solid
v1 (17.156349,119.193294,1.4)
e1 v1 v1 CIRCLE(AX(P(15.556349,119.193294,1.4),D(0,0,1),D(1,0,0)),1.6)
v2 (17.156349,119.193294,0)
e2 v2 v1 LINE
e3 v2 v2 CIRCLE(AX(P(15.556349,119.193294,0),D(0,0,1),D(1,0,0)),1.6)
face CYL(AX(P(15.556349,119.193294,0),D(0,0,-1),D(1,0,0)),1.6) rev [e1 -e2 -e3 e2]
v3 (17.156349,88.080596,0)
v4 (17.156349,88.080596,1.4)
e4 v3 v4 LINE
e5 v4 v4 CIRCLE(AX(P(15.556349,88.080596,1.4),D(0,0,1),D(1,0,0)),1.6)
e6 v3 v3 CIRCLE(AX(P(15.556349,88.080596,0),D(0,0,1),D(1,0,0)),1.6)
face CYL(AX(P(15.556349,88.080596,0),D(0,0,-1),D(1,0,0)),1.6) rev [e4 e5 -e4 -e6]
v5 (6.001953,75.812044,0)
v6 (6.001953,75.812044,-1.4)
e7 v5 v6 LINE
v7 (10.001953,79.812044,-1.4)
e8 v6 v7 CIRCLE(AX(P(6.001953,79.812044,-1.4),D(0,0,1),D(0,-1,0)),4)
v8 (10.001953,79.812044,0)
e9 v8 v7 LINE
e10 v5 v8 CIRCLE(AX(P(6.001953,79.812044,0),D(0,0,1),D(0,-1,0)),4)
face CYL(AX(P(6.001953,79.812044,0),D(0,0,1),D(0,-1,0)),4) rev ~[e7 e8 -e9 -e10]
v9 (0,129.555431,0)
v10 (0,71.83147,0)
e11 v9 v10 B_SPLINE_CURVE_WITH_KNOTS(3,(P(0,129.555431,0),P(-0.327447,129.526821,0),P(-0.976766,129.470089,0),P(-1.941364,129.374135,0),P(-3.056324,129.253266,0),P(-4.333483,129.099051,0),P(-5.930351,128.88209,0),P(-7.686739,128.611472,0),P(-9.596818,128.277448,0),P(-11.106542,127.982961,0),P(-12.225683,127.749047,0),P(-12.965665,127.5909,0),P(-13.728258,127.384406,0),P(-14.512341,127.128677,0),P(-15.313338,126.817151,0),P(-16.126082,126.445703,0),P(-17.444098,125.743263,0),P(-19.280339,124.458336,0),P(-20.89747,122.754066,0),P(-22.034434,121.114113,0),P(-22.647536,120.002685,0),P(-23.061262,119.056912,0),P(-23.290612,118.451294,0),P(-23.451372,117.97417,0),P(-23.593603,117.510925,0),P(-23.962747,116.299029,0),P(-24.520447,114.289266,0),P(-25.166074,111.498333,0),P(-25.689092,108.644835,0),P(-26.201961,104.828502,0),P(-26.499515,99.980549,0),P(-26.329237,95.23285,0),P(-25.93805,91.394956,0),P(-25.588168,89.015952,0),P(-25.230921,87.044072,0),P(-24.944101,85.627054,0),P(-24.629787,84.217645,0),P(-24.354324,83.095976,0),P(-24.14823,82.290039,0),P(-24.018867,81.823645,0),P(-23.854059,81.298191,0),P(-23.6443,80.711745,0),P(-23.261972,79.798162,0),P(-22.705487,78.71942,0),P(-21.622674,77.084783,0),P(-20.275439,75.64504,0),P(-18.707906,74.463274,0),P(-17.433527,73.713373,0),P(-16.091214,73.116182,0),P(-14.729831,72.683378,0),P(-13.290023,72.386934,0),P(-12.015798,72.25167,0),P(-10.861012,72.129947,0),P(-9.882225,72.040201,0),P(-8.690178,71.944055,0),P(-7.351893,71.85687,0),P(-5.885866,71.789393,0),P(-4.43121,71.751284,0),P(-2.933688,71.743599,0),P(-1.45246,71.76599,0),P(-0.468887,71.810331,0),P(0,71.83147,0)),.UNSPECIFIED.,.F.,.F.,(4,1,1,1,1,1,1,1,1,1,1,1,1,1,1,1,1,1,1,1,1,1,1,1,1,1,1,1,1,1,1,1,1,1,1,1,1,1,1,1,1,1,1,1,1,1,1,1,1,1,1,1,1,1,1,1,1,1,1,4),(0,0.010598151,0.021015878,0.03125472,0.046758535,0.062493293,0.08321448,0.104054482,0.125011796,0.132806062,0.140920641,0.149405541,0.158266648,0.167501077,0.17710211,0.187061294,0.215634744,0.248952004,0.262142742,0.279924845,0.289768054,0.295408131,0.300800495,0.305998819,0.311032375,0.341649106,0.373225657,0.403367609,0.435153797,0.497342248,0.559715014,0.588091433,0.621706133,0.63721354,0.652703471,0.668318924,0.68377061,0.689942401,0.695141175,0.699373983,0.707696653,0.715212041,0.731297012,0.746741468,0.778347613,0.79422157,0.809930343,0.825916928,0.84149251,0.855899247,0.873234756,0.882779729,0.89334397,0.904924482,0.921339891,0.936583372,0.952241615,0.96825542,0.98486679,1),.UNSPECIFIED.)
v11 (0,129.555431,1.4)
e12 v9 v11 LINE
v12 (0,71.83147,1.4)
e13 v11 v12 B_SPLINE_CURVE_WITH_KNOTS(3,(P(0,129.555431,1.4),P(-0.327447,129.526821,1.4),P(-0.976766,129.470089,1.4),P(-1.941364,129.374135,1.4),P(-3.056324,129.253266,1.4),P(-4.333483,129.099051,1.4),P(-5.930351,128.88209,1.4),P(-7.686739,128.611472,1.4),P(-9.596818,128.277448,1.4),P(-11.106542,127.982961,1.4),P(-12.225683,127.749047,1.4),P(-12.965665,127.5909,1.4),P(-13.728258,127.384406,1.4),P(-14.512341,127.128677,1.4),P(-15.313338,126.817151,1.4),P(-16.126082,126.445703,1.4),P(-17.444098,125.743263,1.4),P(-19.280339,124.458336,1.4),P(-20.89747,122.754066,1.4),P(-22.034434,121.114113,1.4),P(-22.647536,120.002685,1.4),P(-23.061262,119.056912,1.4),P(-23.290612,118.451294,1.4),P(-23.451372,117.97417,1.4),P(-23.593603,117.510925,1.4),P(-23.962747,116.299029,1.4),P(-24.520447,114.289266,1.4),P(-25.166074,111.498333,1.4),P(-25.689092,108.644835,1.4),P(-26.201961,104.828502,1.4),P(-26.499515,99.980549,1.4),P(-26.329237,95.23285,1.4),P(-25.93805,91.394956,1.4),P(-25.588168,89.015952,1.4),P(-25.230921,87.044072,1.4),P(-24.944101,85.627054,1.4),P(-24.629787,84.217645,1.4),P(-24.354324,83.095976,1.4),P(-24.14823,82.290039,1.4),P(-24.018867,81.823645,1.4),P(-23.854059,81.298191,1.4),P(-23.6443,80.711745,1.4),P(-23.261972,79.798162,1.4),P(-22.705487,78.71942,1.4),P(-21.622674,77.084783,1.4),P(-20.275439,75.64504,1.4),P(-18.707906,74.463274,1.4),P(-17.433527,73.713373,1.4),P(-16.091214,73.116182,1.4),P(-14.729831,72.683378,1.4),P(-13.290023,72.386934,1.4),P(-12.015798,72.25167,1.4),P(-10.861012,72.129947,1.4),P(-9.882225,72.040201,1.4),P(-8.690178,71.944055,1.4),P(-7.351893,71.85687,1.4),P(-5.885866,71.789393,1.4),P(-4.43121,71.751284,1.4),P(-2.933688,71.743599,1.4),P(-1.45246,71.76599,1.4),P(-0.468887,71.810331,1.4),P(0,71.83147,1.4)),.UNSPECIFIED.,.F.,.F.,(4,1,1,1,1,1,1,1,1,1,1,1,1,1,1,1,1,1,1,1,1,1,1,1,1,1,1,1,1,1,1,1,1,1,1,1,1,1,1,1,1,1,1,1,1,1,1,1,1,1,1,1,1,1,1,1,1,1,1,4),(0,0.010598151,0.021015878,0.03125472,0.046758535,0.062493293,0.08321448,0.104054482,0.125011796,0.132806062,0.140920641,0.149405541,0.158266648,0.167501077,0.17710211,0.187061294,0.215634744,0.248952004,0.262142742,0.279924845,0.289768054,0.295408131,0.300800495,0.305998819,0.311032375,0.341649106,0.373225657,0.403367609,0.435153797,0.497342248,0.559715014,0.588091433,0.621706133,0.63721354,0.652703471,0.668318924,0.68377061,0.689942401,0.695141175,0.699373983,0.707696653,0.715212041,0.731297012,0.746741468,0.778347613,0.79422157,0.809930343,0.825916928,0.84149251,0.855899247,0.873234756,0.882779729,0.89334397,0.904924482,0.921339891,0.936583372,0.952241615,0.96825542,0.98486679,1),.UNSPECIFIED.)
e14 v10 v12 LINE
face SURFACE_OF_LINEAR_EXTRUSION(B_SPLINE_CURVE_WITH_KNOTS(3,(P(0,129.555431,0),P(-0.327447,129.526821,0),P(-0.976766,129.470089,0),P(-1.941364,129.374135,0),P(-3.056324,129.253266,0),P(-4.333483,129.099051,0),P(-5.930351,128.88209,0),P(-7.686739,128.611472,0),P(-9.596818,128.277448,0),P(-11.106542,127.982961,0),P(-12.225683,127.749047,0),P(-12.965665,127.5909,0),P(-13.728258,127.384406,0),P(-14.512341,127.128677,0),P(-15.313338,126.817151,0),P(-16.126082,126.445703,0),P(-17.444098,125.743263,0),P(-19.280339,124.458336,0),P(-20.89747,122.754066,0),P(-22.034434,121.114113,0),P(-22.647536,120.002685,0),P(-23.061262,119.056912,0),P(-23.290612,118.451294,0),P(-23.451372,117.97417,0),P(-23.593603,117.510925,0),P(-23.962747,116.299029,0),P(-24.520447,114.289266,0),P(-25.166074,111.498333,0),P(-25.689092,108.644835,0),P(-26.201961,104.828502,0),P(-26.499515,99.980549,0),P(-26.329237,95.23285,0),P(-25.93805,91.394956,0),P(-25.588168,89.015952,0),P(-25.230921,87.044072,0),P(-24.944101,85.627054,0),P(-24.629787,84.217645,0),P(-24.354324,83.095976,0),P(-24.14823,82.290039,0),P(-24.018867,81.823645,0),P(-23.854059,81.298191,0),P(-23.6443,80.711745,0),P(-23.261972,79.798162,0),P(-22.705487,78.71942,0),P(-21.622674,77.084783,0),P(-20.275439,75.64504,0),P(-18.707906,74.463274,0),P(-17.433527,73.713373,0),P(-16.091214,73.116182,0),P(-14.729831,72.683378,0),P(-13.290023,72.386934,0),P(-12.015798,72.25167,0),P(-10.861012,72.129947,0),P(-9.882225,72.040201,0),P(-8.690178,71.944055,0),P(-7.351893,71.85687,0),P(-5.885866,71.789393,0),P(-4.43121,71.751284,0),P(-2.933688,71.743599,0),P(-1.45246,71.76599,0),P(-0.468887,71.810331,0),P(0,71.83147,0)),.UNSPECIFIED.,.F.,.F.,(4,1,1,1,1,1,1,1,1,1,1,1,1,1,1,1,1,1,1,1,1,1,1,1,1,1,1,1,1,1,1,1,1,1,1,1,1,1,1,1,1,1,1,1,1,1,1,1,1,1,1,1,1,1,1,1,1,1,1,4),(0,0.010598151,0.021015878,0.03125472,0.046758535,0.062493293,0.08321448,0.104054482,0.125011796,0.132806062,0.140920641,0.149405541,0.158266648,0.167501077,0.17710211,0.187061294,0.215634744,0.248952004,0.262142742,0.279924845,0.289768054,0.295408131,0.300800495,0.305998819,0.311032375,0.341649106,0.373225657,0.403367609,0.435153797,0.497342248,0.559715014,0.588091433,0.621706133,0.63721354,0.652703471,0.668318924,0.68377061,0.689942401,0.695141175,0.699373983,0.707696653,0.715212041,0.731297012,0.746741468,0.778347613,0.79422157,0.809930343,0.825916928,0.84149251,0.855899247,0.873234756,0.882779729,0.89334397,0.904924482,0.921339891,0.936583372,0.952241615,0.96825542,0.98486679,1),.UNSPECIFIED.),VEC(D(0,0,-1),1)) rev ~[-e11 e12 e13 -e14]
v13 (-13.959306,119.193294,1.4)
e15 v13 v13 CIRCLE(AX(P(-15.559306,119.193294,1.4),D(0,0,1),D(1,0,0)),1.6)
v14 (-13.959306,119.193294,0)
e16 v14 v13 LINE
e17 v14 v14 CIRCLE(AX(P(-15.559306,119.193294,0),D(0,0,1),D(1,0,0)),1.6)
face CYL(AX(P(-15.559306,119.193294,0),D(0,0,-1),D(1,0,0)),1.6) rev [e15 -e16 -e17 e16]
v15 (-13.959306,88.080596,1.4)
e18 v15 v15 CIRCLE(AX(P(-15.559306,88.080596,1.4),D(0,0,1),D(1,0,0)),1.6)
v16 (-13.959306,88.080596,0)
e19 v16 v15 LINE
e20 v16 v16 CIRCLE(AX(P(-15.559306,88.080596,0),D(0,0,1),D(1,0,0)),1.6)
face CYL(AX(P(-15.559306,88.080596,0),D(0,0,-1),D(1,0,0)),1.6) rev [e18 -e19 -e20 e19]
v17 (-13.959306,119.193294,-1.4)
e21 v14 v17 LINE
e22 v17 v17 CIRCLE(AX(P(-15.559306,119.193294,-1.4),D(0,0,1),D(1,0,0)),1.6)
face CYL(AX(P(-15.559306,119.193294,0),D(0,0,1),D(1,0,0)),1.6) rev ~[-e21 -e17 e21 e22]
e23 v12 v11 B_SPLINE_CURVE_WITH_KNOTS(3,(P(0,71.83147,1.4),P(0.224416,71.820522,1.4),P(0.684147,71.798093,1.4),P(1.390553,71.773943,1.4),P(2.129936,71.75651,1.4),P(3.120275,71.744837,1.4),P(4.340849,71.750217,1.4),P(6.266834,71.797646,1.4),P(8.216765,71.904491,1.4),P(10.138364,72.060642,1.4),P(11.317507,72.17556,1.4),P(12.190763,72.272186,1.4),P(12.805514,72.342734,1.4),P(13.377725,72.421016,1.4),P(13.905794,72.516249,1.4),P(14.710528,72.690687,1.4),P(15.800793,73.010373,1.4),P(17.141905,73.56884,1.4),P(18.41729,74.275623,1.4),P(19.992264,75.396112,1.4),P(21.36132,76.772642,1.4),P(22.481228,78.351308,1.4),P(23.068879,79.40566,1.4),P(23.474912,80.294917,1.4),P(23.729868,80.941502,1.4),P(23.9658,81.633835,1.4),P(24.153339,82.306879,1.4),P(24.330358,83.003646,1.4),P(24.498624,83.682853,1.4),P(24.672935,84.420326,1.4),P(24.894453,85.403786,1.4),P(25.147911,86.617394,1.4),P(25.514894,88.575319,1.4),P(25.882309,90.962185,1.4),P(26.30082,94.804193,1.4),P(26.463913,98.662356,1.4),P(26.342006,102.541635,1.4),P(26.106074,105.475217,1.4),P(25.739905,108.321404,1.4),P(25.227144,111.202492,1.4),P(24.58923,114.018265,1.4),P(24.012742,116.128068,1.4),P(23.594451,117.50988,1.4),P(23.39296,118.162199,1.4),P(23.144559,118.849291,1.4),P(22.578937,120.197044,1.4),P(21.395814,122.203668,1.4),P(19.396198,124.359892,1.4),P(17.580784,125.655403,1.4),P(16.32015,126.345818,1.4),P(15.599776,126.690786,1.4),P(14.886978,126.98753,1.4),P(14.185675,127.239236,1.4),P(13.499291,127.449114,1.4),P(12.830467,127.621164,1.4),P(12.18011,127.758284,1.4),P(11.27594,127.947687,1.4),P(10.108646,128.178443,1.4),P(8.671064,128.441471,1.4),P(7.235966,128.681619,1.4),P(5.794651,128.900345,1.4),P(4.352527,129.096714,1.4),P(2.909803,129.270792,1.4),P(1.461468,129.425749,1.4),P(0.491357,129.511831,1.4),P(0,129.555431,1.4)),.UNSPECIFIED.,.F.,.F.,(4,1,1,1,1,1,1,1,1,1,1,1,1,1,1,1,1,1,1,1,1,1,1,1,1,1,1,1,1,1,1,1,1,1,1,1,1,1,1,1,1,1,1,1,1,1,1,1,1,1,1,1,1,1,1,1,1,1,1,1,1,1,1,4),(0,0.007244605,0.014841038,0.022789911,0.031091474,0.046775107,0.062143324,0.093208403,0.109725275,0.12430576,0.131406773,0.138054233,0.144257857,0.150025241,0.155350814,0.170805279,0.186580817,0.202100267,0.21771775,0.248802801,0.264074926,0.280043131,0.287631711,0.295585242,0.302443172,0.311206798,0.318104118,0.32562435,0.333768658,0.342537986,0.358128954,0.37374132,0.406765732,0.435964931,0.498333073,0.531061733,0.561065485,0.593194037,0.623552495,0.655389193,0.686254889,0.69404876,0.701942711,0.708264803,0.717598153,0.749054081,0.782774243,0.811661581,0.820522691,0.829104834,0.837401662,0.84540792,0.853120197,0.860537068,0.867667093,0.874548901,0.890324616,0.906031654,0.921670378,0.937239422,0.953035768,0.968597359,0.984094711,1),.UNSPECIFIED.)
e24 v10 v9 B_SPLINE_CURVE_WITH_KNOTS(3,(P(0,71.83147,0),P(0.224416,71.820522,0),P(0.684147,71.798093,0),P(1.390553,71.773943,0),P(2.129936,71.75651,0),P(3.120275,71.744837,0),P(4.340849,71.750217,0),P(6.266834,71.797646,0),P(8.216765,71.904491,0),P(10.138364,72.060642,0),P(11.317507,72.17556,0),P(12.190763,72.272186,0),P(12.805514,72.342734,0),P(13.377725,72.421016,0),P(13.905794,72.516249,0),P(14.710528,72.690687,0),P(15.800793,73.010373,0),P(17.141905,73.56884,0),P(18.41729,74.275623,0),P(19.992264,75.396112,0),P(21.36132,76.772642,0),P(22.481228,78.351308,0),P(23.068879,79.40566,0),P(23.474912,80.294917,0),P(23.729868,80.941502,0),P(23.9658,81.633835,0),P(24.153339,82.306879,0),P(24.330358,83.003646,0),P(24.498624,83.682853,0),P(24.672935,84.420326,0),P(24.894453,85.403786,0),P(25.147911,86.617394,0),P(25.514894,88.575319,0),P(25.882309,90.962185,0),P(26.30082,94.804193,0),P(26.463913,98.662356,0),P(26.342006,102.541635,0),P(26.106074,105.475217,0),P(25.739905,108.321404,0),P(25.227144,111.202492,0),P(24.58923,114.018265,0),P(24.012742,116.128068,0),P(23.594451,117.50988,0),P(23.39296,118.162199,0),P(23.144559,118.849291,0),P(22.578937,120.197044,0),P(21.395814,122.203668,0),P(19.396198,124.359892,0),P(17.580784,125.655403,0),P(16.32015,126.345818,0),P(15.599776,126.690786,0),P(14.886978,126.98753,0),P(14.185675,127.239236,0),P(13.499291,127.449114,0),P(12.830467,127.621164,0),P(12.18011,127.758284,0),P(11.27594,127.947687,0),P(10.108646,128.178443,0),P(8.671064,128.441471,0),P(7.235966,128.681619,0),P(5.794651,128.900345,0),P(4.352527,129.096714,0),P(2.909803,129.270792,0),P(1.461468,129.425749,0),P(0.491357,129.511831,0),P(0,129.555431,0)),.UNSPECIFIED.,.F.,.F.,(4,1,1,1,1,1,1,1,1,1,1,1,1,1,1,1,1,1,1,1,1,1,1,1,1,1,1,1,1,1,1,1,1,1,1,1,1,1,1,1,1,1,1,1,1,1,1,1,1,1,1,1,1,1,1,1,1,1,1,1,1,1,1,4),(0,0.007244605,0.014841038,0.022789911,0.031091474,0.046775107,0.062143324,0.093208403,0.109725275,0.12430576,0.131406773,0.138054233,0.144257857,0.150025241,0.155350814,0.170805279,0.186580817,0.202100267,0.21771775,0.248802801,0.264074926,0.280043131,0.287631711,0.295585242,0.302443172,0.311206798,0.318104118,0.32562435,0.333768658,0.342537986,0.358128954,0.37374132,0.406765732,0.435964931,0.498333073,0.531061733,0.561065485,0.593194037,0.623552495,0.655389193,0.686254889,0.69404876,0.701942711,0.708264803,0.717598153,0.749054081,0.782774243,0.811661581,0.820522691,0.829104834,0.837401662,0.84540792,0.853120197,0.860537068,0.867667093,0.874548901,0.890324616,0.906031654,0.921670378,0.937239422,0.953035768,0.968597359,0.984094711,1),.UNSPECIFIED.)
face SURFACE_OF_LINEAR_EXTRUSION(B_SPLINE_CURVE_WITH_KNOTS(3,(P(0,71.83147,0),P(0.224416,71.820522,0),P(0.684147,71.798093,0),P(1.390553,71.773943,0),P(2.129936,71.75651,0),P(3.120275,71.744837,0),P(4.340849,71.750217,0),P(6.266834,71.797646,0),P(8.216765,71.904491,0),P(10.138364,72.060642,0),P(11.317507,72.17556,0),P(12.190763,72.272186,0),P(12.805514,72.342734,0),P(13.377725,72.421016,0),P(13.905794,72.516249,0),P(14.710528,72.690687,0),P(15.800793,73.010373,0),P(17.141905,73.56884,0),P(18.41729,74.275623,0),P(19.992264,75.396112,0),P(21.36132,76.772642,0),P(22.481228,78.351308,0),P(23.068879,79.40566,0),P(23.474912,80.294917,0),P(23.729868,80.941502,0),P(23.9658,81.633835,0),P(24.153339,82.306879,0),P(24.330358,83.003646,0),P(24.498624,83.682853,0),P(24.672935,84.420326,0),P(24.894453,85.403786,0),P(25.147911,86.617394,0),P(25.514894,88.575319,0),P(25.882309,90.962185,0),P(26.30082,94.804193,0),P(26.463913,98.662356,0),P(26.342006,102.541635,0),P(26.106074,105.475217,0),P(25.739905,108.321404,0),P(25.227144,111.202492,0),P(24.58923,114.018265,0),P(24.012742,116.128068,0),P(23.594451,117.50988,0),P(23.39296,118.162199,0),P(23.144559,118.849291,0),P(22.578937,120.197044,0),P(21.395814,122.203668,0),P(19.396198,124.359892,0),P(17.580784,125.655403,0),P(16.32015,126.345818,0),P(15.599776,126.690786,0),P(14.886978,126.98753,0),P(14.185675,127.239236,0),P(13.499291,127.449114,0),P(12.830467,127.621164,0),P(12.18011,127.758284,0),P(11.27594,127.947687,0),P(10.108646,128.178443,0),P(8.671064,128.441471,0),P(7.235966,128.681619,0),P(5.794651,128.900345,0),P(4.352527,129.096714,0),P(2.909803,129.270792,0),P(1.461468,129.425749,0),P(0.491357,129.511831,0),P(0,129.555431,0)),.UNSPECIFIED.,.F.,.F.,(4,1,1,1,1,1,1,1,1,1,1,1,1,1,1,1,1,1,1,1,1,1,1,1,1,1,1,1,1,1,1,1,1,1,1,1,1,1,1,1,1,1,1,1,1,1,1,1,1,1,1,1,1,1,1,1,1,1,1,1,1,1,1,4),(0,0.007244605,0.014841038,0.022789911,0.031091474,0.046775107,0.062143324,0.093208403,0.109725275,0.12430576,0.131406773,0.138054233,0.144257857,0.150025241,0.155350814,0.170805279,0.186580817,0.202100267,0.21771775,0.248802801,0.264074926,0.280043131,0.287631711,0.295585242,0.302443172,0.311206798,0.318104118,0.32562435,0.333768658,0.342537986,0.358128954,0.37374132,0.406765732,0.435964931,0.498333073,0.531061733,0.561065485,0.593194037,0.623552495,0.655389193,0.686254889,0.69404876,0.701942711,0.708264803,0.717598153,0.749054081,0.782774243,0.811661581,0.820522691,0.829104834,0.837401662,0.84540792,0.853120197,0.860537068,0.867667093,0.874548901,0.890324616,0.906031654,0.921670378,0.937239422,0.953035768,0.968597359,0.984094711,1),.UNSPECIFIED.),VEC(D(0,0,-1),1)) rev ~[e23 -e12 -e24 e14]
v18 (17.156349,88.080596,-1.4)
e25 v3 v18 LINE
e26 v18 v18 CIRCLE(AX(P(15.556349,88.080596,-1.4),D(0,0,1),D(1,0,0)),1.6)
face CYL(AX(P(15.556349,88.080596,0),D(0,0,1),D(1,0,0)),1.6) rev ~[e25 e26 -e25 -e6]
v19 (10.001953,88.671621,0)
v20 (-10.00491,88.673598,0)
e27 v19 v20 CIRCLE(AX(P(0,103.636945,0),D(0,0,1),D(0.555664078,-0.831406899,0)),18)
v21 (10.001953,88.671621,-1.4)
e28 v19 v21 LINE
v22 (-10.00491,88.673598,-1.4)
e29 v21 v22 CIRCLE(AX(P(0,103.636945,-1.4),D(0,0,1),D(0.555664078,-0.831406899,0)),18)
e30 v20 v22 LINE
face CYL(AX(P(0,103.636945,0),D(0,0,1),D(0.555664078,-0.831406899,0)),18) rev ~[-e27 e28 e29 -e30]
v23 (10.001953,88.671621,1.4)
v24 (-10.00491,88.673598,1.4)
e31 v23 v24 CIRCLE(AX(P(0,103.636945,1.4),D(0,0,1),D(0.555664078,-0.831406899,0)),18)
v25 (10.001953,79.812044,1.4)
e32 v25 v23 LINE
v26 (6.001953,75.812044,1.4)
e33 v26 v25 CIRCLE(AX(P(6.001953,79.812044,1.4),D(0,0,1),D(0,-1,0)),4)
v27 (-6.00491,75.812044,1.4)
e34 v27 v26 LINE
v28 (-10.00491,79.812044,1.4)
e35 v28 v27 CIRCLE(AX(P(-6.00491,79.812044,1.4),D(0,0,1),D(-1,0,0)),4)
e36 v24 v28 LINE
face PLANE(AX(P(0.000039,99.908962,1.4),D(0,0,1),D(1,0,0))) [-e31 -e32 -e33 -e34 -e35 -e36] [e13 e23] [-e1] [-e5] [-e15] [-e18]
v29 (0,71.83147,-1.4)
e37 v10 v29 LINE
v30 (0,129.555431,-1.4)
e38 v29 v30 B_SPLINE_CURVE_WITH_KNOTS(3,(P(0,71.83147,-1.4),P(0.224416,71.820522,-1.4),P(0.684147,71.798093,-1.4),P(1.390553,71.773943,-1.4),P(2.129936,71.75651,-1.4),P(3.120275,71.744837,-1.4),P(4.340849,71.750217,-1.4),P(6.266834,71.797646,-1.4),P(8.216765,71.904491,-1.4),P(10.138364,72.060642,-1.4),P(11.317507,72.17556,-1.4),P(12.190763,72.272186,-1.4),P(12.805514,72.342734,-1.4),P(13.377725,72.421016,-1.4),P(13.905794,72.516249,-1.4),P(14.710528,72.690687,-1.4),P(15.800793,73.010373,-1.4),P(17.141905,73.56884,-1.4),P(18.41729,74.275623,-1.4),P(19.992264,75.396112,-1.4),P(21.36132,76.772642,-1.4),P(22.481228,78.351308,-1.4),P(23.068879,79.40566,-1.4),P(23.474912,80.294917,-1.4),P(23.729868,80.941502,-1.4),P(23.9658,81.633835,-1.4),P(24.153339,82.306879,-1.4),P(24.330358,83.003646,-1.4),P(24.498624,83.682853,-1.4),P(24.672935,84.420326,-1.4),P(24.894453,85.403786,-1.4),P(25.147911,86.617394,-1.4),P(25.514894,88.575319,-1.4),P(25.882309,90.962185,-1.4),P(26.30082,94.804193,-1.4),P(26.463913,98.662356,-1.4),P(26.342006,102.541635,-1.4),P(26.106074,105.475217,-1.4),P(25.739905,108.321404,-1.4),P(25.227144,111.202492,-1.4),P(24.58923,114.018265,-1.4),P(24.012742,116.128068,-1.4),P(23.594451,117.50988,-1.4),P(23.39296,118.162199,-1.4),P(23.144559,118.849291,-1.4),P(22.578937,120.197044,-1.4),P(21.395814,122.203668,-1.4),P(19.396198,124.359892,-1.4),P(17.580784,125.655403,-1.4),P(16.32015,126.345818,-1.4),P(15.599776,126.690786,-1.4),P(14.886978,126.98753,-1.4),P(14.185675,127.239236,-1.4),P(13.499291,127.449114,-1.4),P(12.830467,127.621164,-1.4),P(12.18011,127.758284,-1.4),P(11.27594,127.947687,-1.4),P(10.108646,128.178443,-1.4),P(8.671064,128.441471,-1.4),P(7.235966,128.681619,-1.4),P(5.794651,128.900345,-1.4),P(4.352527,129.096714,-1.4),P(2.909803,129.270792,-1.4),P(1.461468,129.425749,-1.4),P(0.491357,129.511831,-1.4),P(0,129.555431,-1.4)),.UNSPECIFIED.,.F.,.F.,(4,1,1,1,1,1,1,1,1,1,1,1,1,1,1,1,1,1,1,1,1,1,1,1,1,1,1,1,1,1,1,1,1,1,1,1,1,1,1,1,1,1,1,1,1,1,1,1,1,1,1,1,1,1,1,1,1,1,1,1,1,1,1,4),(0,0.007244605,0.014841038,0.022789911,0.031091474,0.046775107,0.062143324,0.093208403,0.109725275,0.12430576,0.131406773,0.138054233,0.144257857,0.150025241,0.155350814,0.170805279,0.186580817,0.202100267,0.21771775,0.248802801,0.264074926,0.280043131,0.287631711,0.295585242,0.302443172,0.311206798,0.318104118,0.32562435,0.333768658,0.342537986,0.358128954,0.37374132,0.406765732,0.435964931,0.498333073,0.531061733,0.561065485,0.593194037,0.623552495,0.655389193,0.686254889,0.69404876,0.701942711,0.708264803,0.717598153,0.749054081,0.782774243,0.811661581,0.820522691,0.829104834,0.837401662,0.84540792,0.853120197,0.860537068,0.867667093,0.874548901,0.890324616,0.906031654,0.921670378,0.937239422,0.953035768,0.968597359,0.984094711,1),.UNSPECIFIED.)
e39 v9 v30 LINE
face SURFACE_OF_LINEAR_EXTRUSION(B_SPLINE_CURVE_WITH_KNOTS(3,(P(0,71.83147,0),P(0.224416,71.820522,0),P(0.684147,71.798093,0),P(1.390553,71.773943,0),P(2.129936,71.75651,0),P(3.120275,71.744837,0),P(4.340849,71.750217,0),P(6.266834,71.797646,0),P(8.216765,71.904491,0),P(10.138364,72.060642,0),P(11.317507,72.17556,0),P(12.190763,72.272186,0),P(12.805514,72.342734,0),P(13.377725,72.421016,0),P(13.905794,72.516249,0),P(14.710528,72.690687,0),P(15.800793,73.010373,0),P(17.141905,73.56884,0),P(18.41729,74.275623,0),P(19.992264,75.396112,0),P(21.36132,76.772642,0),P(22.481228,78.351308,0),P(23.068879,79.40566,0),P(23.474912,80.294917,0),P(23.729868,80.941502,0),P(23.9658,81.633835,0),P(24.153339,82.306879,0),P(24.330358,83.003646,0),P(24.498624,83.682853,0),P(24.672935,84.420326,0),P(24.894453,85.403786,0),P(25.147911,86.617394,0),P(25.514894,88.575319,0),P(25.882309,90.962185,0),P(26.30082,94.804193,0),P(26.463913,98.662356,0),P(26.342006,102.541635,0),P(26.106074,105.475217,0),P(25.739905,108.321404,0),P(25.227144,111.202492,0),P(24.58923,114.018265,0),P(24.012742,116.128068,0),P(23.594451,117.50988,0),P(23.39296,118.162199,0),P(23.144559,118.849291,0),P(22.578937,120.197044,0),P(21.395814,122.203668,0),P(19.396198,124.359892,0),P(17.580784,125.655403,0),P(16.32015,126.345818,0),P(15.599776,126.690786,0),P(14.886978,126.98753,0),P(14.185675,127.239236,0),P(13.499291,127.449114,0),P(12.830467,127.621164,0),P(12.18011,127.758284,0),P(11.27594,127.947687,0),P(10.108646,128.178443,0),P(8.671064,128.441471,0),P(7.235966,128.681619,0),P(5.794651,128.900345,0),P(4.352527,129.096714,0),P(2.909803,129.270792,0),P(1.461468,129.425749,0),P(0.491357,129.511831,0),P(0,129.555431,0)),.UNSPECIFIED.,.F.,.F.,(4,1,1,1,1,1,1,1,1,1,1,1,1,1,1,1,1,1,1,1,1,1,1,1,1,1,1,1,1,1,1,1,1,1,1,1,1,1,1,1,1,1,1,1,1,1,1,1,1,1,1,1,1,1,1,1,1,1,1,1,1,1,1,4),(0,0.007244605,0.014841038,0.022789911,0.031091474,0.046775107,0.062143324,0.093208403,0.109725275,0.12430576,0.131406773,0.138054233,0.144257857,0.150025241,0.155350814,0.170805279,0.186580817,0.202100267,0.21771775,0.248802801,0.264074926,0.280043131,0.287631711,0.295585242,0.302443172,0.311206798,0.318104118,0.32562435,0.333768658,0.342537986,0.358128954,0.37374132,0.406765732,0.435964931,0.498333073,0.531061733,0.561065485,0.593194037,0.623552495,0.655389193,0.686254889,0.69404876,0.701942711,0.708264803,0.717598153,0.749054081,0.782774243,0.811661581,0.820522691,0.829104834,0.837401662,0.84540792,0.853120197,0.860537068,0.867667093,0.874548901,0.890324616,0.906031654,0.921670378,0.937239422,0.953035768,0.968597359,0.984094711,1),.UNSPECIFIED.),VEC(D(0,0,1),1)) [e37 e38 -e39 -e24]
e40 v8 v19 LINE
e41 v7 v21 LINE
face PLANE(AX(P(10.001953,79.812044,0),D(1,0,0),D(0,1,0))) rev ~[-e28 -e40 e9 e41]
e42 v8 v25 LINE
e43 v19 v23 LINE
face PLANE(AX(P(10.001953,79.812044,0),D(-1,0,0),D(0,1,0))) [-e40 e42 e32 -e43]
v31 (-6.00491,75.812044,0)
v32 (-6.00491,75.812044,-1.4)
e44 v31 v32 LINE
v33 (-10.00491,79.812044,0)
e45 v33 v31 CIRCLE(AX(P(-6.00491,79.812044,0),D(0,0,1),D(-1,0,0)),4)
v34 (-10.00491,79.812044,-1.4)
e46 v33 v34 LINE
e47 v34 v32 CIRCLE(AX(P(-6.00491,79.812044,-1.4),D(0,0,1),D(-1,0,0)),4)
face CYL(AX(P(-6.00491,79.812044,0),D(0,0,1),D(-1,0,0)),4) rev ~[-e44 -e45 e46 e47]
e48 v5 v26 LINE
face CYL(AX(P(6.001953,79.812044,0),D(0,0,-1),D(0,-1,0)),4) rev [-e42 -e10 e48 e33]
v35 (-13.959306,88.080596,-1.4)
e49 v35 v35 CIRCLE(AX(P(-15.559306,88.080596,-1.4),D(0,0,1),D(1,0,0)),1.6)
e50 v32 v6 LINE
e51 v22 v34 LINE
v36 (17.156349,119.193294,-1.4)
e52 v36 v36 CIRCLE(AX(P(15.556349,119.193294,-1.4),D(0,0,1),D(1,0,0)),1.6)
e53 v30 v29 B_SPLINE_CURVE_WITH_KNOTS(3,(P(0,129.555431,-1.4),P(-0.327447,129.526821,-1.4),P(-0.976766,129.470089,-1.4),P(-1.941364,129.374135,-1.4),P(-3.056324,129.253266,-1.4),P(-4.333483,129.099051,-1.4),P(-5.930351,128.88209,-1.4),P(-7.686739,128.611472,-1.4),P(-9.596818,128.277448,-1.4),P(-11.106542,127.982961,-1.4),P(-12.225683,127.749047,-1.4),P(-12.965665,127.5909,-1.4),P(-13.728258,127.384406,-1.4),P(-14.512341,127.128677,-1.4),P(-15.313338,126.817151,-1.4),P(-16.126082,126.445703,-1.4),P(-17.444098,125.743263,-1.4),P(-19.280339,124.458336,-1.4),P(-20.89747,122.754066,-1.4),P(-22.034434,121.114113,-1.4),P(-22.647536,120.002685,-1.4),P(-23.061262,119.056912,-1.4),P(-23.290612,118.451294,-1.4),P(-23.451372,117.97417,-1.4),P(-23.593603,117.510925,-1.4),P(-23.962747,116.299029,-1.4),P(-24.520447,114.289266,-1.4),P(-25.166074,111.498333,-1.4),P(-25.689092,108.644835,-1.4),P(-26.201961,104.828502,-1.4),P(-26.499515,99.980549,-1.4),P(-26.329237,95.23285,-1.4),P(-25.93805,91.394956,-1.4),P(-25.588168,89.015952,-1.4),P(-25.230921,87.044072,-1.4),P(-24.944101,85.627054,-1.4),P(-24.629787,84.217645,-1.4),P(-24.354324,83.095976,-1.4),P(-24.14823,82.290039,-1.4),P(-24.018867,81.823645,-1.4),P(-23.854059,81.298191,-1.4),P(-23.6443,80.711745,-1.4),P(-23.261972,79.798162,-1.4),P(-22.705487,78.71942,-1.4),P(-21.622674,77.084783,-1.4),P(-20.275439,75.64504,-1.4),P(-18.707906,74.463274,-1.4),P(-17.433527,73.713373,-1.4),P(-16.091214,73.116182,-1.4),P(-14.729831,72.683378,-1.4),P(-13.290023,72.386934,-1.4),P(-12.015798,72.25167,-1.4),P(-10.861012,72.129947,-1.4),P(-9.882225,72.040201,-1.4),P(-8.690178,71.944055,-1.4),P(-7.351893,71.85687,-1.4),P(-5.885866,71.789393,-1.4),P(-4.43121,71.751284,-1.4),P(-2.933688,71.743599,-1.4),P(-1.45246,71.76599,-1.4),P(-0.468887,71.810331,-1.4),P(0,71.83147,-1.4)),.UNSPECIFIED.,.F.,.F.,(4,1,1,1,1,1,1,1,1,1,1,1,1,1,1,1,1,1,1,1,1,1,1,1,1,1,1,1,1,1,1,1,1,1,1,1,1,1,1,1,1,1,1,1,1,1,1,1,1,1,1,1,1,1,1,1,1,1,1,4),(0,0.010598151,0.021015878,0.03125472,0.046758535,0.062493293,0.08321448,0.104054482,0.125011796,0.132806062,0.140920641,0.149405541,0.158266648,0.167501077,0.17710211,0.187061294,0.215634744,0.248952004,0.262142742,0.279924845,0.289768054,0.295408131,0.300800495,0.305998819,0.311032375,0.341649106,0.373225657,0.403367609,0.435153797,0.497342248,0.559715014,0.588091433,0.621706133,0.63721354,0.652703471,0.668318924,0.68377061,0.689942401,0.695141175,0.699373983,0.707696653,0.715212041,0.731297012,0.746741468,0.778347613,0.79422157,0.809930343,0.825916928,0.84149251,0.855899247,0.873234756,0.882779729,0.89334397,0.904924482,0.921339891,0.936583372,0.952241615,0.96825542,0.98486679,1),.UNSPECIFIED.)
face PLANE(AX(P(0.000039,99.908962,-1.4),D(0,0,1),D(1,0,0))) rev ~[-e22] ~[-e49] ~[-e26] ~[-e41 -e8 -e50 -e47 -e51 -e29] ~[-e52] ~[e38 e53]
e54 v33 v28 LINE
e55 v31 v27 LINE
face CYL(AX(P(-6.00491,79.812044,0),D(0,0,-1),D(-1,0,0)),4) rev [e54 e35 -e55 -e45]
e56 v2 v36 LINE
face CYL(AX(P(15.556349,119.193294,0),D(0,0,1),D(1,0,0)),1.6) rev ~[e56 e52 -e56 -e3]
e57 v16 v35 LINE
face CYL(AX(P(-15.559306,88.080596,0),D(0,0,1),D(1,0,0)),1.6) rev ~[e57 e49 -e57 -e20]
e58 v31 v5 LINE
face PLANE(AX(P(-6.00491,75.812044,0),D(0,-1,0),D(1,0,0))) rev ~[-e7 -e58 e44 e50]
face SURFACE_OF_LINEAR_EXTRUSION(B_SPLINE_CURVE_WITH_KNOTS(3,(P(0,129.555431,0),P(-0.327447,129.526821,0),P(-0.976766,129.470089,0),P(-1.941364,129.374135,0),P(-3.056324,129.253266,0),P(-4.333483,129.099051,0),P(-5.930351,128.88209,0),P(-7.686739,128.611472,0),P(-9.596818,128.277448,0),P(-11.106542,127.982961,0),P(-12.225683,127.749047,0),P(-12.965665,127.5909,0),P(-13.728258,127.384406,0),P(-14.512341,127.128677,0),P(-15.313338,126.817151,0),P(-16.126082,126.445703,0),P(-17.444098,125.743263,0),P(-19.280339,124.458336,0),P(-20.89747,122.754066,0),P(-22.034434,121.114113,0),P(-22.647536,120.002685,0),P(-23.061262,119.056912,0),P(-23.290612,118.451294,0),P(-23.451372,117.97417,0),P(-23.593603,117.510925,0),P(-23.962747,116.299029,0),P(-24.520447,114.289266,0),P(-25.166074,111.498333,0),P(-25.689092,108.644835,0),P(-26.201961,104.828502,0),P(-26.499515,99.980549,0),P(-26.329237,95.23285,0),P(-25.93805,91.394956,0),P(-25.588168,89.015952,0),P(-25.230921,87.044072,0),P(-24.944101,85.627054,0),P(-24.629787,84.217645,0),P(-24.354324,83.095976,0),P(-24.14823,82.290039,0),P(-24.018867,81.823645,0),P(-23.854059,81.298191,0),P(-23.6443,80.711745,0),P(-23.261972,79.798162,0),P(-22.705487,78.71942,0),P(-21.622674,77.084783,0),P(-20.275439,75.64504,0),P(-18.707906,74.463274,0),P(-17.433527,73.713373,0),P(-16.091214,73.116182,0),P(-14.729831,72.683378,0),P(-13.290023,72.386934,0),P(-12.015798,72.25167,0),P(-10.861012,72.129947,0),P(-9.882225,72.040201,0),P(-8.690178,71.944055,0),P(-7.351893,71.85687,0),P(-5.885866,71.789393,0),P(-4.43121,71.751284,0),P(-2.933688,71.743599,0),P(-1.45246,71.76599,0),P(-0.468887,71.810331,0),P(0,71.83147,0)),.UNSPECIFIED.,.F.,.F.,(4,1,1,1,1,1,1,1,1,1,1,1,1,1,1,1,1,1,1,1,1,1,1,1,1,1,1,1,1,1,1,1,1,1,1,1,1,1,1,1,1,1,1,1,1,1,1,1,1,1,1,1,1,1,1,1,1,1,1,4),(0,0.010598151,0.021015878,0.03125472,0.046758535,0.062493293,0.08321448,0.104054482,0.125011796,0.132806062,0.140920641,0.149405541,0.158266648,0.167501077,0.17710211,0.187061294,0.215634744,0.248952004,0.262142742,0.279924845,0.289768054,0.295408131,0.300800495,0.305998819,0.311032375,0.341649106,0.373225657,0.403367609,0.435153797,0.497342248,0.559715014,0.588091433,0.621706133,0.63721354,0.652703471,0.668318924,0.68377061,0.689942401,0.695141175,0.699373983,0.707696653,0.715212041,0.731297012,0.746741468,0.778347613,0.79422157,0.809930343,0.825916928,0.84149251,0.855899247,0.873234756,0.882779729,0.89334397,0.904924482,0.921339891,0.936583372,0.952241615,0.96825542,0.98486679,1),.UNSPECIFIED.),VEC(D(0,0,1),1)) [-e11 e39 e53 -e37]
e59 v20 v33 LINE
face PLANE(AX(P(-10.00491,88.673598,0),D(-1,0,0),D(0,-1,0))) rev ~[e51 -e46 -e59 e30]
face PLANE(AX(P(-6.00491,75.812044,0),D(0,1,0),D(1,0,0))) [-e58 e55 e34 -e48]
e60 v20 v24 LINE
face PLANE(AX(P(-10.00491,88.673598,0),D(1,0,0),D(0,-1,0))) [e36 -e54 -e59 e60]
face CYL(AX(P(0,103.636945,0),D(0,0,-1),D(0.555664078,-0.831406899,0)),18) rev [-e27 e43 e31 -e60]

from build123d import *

# Parameters (mm, degrees)
SKETCH_1_R      = 1.6
EXTRUDE_1_DEPTH = 1.4


with BuildPart() as part:
    # Эскиз1 → Бобышка-Вытянуть1 (new, symmetric)
    with BuildSketch(Plane.XY):
        with BuildLine():
            add(Edge.make_bspline(
                [(0, 71.831470018), (0.224416179, 71.820521503), (0.684147103, 71.798092768), (1.390553246, 71.77394313), (2.129936147, 71.756509949), (3.120275382, 71.74483738), (4.340849325, 71.750217073), (6.266834443, 71.797645626), (8.216765497, 71.904490636), (10.138363938, 72.060642203), (11.317506615, 72.175559831), (12.190762764, 72.272185641), (12.805513935, 72.34273449), (13.37772465, 72.421015924), (13.905793885, 72.51624936), (14.710527508, 72.690687443), (15.800793475, 73.010372547), (17.141904851, 73.568840352), (18.417290334, 74.275623423), (19.992263936, 75.396111642), (21.361320354, 76.772642414), (22.481227657, 78.351307534), (23.068879442, 79.405660146), (23.47491154, 80.294917035), (23.729868011, 80.941501678), (23.965799926, 81.633834828), (24.153338764, 82.306879474), (24.330358453, 83.00364592), (24.498623524, 83.682852837), (24.672935215, 84.420326333), (24.894452544, 85.403785706), (25.147911089, 86.617394475), (25.514893824, 88.575319472), (25.882308723, 90.962184892), (26.300820369, 94.804193168), (26.463913272, 98.662356192), (26.342005837, 102.541634909), (26.106073622, 105.475217496), (25.739905361, 108.321403549), (25.227143621, 111.202492324), (24.589229676, 114.018264761), (24.012742476, 116.128067688), (23.594450813, 117.509879625), (23.392959669, 118.162199377), (23.144559301, 118.849290868), (22.578937407, 120.197043553), (21.395813943, 122.20366756), (19.396198372, 124.35989197), (17.580783875, 125.655403223), (16.320150391, 126.345818353), (15.599775822, 126.690785698), (14.886977613, 126.987530367), (14.185674872, 127.239235753), (13.4992906, 127.449114007), (12.830466587, 127.621163827), (12.180109738, 127.758284309), (11.275940312, 127.947686764), (10.10864648, 128.178443045), (8.671063895, 128.441470677), (7.23596598, 128.681619076), (5.794651251, 128.900345473), (4.352526893, 129.096713978), (2.909802689, 129.270791509), (1.461468081, 129.42574856), (0.491356771, 129.511830561), (0, 129.555430685)],
                knots=[0, 0, 0, 0, 0.007244605, 0.014841038, 0.022789911, 0.031091474, 0.046775107, 0.062143324, 0.093208403, 0.109725275, 0.12430576, 0.131406773, 0.138054233, 0.144257857, 0.150025241, 0.155350814, 0.170805279, 0.186580817, 0.202100267, 0.21771775, 0.248802801, 0.264074926, 0.280043131, 0.287631711, 0.295585242, 0.302443172, 0.311206798, 0.318104118, 0.32562435, 0.333768658, 0.342537986, 0.358128954, 0.37374132, 0.406765732, 0.435964931, 0.498333073, 0.531061733, 0.561065485, 0.593194037, 0.623552495, 0.655389193, 0.686254889, 0.69404876, 0.701942711, 0.708264803, 0.717598153, 0.749054081, 0.782774243, 0.811661581, 0.820522691, 0.829104834, 0.837401662, 0.84540792, 0.853120197, 0.860537068, 0.867667093, 0.874548901, 0.890324616, 0.906031654, 0.921670378, 0.937239422, 0.953035768, 0.968597359, 0.984094711, 1, 1, 1, 1], degree=3))
            add(Edge.make_bspline(
                [(0, 129.555430685), (-0.3274469, 129.526821193), (-0.97676619, 129.47008926), (-1.94136409, 129.37413494), (-3.056324136, 129.253266033), (-4.33348257, 129.099051372), (-5.930351425, 128.882090385), (-7.686739234, 128.611471892), (-9.596818382, 128.277448203), (-11.106542408, 127.982961479), (-12.225682791, 127.749046891), (-12.965665391, 127.590900371), (-13.728257741, 127.38440617), (-14.512340962, 127.12867723), (-15.313338162, 126.817150771), (-16.126082065, 126.445703171), (-17.444098211, 125.743263421), (-19.280339416, 124.458335973), (-20.897470488, 122.754065632), (-22.034433682, 121.114113169), (-22.647536356, 120.002685322), (-23.061262162, 119.056911748), (-23.290611707, 118.451294304), (-23.451372125, 117.974169765), (-23.593602687, 117.510925094), (-23.962747453, 116.29902851), (-24.520446784, 114.289265865), (-25.166074376, 111.498333257), (-25.689092368, 108.644834899), (-26.201960729, 104.828502487), (-26.499515195, 99.98054875), (-26.329237181, 95.232849809), (-25.93805017, 91.394955647), (-25.588168293, 89.015952156), (-25.230921433, 87.044071951), (-24.944100715, 85.627054403), (-24.629786889, 84.217645213), (-24.354324302, 83.095975922), (-24.148229918, 82.290039423), (-24.018866814, 81.82364516), (-23.854058531, 81.298190812), (-23.644300292, 80.71174475), (-23.261971585, 79.798161959), (-22.705487298, 78.719420483), (-21.622673835, 77.084782927), (-20.275439366, 75.645040405), (-18.70790573, 74.463273721), (-17.43352671, 73.713373036), (-16.091213811, 73.116181806), (-14.729830923, 72.683377588), (-13.290023133, 72.386934206), (-12.0157978, 72.251669974), (-10.861011854, 72.129946685), (-9.882225452, 72.040200908), (-8.690178345, 71.944054587), (-7.351893097, 71.856869551), (-5.885866144, 71.789392779), (-4.431210112, 71.751283956), (-2.93368772, 71.743598504), (-1.452459975, 71.765989714), (-0.468886907, 71.810331496), (0, 71.831470018)],
                knots=[0, 0, 0, 0, 0.010598151, 0.021015878, 0.03125472, 0.046758535, 0.062493293, 0.08321448, 0.104054482, 0.125011796, 0.132806062, 0.140920641, 0.149405541, 0.158266648, 0.167501077, 0.17710211, 0.187061294, 0.215634744, 0.248952004, 0.262142742, 0.279924845, 0.289768054, 0.295408131, 0.300800495, 0.305998819, 0.311032375, 0.341649106, 0.373225657, 0.403367609, 0.435153797, 0.497342248, 0.559715014, 0.588091433, 0.621706133, 0.63721354, 0.652703471, 0.668318924, 0.68377061, 0.689942401, 0.695141175, 0.699373983, 0.707696653, 0.715212041, 0.731297012, 0.746741468, 0.778347613, 0.79422157, 0.809930343, 0.825916928, 0.84149251, 0.855899247, 0.873234756, 0.882779729, 0.89334397, 0.904924482, 0.921339891, 0.936583372, 0.952241615, 0.96825542, 0.98486679, 1, 1, 1, 1], degree=3))
        make_face()
        with Locations((15.556349186, 119.193294207)):
            Circle(SKETCH_1_R, mode=Mode.SUBTRACT)
        with Locations((-15.559306188, 119.193294207)):
            Circle(SKETCH_1_R, mode=Mode.SUBTRACT)
        with Locations((15.556349186, 88.080595835)):
            Circle(SKETCH_1_R, mode=Mode.SUBTRACT)
        with Locations((-15.559306188, 88.080595835)):
            Circle(SKETCH_1_R, mode=Mode.SUBTRACT)
        with BuildLine():
            Line((-6.004910411, 75.812044251), (6.001953409, 75.812044251))
            ThreePointArc((6.001953409, 75.812044251), (8.830380533, 76.983617126), (10.001953409, 79.812044251))
            Line((10.001953409, 79.812044251), (10.001953409, 88.671620834))
            ThreePointArc((10.001953409, 88.671620834), (0.00177843, 121.636944933), (-10.004910411, 88.673597545))
            Line((-10.004910411, 88.673597545), (-10.004910411, 79.812044251))
            ThreePointArc((-10.004910411, 79.812044251), (-8.833337536, 76.983617126), (-6.004910411, 75.812044251))
        make_face(mode=Mode.SUBTRACT)
    extrude(amount=EXTRUDE_1_DEPTH, both=True)


solid = part.part
